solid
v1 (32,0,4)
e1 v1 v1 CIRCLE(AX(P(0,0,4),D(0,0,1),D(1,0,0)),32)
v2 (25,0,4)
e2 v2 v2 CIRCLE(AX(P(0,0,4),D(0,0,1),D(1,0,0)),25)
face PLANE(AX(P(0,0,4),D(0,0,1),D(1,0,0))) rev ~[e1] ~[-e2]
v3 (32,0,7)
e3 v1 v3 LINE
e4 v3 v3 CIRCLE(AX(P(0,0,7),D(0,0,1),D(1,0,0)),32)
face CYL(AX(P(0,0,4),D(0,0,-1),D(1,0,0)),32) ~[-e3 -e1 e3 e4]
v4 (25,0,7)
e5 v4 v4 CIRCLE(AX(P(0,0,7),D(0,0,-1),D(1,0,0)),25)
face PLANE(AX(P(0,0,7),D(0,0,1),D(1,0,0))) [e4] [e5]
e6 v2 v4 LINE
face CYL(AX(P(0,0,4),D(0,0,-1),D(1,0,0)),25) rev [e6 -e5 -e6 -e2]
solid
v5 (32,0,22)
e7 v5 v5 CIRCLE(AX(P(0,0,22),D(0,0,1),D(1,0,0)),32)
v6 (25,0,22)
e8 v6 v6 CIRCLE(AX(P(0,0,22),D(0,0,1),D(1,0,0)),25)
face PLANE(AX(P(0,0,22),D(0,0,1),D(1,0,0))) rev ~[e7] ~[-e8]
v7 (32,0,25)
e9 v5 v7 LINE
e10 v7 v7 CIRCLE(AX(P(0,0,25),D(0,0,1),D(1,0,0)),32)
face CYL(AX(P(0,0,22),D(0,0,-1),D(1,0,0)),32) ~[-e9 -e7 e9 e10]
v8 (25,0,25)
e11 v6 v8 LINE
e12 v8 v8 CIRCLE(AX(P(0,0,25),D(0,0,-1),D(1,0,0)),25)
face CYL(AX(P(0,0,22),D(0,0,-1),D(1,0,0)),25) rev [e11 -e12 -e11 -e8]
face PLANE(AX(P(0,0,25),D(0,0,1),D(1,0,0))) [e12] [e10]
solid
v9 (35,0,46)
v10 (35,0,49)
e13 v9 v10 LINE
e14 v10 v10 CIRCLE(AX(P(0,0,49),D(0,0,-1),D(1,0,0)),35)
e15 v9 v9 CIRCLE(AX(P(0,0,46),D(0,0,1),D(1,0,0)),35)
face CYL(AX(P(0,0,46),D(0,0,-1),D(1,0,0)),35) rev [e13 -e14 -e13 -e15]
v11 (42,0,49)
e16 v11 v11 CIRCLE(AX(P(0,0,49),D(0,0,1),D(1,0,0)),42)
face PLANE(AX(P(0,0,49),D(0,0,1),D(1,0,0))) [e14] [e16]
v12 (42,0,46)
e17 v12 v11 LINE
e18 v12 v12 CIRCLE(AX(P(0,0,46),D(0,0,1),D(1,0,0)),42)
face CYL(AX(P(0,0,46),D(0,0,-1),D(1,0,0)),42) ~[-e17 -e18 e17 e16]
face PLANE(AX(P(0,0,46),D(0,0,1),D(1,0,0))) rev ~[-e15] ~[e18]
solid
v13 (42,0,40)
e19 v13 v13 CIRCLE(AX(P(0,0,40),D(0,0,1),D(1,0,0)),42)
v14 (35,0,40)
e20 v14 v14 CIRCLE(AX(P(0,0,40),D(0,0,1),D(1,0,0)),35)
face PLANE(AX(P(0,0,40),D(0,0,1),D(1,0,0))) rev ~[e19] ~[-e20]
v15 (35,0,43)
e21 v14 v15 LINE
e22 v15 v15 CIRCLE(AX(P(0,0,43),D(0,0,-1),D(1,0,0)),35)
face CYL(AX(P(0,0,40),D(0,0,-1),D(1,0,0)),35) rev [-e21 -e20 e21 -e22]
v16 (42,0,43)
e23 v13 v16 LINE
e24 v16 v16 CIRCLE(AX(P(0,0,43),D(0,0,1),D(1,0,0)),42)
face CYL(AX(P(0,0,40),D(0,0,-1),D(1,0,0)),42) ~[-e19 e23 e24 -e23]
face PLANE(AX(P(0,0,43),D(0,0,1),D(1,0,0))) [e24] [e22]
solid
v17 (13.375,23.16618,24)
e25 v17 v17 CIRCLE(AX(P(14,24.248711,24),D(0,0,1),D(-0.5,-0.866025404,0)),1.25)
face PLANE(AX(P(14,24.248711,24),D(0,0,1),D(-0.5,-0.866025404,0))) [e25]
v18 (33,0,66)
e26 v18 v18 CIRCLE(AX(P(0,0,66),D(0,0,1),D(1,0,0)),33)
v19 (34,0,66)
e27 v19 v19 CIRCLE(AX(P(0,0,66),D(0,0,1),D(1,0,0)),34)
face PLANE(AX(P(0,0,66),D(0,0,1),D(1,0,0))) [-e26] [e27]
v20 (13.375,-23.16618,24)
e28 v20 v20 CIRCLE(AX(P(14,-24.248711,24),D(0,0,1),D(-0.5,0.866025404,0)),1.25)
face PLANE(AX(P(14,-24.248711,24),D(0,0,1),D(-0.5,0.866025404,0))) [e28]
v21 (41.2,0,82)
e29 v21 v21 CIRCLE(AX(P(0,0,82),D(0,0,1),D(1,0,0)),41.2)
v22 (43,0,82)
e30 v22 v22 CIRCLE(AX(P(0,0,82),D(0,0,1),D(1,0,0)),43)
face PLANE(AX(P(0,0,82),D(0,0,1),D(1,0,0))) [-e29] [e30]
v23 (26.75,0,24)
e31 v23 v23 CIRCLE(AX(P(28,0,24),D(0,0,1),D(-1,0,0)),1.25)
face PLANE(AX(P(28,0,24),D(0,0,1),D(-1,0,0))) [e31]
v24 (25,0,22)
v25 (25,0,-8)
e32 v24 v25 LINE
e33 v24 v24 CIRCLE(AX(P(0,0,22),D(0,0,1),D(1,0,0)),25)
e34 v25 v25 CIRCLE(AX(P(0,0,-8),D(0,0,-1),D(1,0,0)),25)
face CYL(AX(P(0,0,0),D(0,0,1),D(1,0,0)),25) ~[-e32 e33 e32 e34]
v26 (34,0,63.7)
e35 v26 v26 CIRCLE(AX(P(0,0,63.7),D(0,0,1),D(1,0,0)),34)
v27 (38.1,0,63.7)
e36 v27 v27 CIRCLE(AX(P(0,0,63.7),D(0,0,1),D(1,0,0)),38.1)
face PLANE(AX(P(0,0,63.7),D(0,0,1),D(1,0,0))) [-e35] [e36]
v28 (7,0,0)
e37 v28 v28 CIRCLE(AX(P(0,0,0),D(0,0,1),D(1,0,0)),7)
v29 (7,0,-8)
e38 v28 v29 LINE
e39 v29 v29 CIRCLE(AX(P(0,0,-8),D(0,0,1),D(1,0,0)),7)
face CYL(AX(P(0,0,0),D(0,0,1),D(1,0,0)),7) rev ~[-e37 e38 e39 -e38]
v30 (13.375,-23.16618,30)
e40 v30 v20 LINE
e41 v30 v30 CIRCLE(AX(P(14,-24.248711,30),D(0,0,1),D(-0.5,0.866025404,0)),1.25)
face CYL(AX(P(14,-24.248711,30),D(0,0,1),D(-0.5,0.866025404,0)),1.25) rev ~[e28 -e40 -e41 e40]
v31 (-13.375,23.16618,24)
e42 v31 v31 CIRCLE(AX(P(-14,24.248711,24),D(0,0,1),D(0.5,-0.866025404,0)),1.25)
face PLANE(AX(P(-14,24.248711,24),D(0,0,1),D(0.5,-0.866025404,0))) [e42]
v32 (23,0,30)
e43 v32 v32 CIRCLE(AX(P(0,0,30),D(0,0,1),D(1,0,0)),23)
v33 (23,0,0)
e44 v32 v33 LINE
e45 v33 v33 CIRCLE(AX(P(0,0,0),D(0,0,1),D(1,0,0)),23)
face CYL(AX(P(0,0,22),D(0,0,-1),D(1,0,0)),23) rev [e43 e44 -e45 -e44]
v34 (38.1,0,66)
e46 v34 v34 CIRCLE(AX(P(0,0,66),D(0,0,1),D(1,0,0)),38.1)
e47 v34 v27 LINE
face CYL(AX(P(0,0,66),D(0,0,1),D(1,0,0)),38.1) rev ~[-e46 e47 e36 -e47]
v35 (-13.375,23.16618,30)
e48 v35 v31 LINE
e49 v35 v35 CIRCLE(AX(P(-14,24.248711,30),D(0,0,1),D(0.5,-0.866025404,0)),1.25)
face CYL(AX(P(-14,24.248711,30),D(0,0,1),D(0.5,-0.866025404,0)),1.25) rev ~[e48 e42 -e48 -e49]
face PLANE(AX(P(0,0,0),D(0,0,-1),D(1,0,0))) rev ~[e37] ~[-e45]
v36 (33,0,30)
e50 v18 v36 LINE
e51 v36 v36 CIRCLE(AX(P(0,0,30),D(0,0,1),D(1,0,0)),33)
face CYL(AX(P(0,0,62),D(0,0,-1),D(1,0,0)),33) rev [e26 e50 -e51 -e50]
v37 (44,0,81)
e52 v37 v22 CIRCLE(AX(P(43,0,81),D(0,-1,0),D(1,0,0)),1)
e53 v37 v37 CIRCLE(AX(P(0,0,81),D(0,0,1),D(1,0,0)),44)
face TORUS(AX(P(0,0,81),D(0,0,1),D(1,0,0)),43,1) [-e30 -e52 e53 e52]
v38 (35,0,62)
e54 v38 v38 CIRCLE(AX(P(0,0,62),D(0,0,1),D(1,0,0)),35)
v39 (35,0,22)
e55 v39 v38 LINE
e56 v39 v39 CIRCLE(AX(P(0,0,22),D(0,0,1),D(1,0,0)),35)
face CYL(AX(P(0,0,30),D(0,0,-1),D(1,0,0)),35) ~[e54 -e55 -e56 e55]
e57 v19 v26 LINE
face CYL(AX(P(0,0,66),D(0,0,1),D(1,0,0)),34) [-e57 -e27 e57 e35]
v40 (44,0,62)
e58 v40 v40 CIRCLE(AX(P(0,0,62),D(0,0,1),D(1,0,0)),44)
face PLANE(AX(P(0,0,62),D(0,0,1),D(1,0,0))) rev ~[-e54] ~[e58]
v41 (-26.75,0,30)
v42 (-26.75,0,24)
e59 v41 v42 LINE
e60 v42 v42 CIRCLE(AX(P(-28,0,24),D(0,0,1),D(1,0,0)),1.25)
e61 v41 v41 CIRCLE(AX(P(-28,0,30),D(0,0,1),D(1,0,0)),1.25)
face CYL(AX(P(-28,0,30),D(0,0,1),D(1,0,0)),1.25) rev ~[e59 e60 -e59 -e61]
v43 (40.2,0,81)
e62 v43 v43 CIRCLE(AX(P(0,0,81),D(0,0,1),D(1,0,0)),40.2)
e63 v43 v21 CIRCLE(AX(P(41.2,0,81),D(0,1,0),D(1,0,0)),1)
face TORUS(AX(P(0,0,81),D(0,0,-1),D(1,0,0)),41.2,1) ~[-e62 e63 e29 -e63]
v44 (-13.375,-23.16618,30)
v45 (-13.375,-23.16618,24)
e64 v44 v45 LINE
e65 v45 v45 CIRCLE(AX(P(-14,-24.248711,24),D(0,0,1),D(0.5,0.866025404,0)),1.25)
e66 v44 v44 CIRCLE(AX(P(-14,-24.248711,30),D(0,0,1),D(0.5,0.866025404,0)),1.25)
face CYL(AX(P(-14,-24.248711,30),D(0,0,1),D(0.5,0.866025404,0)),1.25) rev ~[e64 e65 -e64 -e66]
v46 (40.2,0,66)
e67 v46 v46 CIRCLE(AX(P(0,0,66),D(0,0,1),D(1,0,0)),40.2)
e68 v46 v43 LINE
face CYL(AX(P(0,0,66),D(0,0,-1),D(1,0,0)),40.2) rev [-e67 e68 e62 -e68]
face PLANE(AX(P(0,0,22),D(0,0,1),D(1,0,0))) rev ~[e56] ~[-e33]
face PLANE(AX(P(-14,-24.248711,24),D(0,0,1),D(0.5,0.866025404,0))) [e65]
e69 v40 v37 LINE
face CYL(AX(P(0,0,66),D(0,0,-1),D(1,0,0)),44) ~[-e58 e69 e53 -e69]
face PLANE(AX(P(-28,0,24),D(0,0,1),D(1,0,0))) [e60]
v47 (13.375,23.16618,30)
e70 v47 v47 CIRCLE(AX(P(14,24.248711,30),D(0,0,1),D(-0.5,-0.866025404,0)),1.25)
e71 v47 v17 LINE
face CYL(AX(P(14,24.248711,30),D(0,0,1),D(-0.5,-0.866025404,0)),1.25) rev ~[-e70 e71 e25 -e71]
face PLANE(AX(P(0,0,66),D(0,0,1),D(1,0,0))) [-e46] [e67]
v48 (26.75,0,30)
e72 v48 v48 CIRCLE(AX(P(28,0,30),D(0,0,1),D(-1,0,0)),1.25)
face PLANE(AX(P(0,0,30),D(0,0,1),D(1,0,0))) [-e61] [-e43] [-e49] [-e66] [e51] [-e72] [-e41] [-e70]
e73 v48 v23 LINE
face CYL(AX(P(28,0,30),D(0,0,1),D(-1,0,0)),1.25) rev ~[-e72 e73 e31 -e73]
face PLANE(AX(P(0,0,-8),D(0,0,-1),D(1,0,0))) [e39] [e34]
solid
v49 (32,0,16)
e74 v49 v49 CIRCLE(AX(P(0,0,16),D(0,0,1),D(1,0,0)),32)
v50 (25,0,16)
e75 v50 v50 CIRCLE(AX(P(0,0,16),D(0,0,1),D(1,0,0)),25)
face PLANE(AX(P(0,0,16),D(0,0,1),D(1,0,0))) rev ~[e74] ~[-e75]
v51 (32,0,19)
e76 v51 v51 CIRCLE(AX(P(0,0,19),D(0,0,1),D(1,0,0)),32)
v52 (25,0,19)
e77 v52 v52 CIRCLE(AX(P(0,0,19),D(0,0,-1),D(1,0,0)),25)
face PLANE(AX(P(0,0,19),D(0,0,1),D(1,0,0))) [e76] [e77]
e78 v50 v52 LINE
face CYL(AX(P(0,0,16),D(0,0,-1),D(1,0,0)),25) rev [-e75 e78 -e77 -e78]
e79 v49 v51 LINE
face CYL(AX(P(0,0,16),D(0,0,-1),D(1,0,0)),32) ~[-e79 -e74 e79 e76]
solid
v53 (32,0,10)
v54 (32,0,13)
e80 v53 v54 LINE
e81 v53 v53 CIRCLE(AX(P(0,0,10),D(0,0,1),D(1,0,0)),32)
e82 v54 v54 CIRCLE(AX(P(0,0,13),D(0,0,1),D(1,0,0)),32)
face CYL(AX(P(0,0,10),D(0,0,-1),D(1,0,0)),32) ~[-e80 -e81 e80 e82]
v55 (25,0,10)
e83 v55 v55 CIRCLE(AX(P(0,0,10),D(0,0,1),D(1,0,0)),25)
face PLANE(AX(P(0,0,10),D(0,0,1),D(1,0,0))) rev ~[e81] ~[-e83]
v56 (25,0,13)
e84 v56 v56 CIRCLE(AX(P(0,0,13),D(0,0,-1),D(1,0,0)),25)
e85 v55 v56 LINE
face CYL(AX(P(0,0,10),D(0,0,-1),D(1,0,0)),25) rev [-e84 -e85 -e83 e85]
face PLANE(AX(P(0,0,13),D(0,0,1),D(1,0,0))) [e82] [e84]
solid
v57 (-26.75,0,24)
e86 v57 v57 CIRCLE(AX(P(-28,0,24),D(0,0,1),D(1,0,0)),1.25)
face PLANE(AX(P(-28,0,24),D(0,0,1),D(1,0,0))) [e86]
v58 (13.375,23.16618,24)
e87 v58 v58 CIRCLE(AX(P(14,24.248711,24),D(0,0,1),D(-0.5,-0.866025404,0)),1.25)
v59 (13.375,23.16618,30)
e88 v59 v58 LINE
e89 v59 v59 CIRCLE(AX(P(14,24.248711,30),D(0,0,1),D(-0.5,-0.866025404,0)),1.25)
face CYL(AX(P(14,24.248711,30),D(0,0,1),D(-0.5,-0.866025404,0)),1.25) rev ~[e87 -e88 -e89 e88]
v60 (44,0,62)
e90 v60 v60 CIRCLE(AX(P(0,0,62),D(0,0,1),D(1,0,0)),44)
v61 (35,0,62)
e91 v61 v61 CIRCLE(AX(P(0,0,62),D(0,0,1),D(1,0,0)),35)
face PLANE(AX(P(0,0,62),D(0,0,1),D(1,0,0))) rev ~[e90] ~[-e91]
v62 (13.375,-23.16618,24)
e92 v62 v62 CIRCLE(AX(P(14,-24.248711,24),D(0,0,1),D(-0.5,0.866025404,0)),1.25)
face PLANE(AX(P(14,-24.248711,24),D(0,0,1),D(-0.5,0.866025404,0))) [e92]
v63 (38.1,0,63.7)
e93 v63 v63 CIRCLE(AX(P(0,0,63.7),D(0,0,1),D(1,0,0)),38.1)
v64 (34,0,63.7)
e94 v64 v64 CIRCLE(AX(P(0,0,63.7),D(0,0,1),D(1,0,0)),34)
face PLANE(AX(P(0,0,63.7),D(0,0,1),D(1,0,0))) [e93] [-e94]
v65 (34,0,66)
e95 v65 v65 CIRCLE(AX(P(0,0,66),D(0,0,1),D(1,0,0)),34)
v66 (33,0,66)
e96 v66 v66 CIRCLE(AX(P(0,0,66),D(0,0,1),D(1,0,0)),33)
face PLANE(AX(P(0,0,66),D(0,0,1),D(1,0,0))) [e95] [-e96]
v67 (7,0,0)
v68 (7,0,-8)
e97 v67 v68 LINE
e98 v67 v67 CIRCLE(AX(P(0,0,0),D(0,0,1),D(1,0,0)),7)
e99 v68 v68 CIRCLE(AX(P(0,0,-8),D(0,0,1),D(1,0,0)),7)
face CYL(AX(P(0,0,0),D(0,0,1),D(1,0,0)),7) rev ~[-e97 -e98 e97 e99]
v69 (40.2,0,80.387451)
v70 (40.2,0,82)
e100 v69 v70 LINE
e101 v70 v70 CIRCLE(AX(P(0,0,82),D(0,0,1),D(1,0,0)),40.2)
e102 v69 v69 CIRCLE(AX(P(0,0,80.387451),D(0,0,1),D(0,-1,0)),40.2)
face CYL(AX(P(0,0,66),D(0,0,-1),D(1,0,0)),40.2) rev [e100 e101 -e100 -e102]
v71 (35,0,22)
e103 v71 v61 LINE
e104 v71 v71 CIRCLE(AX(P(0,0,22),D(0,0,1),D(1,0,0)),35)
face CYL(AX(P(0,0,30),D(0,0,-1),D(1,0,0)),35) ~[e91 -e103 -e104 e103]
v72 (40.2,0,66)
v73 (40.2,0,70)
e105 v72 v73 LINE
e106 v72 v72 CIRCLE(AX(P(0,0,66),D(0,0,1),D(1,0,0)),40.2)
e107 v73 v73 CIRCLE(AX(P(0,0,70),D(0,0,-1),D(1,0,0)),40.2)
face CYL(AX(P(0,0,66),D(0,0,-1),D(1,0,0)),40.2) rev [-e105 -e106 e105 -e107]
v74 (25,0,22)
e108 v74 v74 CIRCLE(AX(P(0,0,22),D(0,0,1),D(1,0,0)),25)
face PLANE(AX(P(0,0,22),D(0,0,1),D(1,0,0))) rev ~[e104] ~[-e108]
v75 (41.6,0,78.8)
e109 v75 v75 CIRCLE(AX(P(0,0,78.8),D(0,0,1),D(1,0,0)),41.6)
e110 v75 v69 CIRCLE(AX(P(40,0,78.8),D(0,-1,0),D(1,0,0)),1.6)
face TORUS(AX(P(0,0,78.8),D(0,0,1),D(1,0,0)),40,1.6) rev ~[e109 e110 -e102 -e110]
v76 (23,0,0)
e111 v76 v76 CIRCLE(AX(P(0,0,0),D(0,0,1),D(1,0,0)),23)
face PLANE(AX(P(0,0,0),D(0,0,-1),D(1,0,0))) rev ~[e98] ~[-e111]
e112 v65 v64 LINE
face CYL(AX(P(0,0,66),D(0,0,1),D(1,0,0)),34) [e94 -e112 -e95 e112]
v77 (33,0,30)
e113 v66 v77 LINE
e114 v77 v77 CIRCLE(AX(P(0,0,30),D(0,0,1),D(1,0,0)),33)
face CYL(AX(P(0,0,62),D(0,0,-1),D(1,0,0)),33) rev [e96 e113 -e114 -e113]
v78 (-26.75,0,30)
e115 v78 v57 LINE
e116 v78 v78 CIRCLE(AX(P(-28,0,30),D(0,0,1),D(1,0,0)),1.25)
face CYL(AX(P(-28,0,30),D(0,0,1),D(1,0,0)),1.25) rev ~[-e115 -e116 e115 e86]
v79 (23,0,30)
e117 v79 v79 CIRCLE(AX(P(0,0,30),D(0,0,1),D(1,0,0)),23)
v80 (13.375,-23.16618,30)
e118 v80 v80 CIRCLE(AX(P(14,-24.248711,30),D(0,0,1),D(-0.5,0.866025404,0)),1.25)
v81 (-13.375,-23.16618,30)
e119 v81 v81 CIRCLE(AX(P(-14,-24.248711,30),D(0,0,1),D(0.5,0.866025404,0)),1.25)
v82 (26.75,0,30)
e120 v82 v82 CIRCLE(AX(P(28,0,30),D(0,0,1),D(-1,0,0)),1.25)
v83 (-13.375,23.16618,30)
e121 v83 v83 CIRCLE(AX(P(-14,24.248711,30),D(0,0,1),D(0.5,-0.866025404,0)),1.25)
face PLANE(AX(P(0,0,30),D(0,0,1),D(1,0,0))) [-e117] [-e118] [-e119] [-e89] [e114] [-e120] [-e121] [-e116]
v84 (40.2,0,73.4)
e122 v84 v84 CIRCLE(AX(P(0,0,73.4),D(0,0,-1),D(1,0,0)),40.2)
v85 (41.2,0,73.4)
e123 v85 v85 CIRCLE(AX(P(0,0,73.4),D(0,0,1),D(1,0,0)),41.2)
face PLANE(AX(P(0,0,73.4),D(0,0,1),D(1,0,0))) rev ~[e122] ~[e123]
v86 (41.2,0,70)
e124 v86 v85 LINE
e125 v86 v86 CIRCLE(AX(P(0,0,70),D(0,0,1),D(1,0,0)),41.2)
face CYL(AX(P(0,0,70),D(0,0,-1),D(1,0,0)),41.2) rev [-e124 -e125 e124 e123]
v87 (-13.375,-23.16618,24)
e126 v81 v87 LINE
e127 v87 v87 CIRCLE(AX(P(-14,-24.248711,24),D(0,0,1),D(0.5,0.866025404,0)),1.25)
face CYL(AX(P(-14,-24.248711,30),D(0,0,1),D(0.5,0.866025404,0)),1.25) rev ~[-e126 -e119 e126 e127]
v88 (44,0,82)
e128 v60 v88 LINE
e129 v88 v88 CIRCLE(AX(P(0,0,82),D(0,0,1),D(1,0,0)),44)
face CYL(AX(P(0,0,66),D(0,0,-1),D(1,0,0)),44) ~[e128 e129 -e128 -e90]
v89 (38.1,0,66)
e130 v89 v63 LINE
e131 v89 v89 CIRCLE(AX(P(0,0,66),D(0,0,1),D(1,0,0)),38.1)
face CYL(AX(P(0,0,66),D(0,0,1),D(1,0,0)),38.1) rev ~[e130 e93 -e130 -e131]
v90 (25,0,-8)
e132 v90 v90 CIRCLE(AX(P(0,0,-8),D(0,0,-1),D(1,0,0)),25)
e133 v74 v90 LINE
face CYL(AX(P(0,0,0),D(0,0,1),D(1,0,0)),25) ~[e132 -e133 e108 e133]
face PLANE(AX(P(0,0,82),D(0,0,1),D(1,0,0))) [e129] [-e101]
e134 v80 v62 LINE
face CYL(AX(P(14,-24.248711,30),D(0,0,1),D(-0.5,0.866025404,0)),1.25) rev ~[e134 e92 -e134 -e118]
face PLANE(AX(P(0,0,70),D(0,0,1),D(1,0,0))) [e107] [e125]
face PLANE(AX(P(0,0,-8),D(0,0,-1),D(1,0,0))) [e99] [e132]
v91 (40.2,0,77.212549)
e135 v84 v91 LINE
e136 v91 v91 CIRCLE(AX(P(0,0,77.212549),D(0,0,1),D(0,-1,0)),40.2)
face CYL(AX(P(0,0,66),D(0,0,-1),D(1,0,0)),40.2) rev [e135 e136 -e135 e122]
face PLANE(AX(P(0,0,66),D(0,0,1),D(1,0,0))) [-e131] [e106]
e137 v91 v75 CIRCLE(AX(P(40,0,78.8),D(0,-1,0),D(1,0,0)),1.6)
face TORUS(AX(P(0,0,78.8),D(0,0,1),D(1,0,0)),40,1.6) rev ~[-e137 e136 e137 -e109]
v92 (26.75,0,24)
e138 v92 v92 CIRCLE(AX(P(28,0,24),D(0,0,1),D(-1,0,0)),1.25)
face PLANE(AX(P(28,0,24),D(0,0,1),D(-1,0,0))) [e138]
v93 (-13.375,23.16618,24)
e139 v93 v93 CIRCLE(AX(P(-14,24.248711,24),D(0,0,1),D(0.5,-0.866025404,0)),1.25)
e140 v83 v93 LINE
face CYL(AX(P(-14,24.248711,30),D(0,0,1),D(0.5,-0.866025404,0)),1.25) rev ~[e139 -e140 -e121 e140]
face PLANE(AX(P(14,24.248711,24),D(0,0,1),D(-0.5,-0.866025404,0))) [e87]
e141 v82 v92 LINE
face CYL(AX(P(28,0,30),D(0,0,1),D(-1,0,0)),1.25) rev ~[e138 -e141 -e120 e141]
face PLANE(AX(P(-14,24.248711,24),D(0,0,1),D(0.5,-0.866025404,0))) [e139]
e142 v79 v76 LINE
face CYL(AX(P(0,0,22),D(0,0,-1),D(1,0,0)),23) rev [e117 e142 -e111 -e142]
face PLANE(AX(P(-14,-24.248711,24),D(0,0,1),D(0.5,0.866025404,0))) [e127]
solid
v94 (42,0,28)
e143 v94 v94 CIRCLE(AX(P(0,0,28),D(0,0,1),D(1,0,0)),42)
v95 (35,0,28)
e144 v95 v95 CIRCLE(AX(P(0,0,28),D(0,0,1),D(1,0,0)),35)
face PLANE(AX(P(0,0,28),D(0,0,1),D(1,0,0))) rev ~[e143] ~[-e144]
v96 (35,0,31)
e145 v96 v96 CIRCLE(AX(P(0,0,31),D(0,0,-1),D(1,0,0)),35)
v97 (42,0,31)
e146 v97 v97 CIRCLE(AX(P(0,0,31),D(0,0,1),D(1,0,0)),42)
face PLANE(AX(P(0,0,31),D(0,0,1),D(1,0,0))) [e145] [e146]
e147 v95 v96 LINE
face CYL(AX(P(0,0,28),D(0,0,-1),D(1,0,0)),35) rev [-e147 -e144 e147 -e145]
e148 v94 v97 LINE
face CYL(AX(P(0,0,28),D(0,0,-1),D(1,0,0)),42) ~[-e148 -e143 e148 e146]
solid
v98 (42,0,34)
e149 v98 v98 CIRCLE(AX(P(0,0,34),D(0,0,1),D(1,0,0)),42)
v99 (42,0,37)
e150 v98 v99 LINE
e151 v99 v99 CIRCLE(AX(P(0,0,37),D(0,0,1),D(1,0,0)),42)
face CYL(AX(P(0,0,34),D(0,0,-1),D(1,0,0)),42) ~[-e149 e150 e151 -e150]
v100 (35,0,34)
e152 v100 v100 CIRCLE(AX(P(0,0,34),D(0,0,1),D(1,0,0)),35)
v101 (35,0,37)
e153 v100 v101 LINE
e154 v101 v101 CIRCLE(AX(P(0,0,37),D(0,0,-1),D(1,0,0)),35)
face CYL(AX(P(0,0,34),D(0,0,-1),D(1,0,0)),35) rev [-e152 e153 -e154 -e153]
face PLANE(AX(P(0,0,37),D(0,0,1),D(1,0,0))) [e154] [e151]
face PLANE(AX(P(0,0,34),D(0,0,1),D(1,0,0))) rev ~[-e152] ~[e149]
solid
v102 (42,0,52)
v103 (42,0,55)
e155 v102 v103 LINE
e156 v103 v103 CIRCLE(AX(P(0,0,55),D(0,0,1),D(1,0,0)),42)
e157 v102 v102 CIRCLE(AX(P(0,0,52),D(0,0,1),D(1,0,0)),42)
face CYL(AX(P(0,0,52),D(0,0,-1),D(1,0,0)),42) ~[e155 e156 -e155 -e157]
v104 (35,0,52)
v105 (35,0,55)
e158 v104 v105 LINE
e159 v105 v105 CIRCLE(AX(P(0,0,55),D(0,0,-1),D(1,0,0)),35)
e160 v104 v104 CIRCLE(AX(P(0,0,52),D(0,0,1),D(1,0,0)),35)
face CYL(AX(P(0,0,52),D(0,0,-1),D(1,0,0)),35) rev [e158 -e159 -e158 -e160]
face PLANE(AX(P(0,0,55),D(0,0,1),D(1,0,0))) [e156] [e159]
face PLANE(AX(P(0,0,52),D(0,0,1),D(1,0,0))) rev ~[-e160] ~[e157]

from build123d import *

# Parameters (mm, degrees)
SKETCH_R           = 25
SKETCH_R_2         = 23
PAD_DEPTH          = 22
SKETCH001_R        = 25
PAD001_DEPTH       = 8
SKETCH003_R        = 7
POCKET_DEPTH       = 8
SKETCH004_R        = 35
SKETCH004_R_2      = 23
PAD003_DEPTH       = 8
SKETCH005_R        = 1.25
POCKET001_DEPTH    = 6
POLARPATTERN_COUNT = 6
SKETCH006_R        = 35
SKETCH006_R_2      = 33
PAD004_DEPTH       = 32
SKETCH007_R        = 44
SKETCH007_R_2      = 33
PAD005_DEPTH       = 4
SKETCH008_R        = 38.1
SKETCH008_R_2      = 34
POCKET002_DEPTH    = 2.3
SKETCH009_R        = 44
SKETCH009_R_2      = 40.2
PAD006_DEPTH       = 16
FILLET_R           = 1
CYLINDER010_R      = 35
CYLINDER010_DEPTH  = 5
CYLINDER011_R      = 42
CYLINDER011_DEPTH  = 3
CYLINDER014_R      = 35
CYLINDER014_DEPTH  = 5
CYLINDER015_R      = 42
CYLINDER015_DEPTH  = 3
CYLINDER018_R      = 35
CYLINDER018_DEPTH  = 5
CYLINDER019_R      = 42
CYLINDER019_DEPTH  = 3
CYLINDER022_R      = 35
CYLINDER022_DEPTH  = 5
CYLINDER023_R      = 42
CYLINDER023_DEPTH  = 3
CYLINDER026_R      = 35
CYLINDER026_DEPTH  = 5
CYLINDER027_R      = 42
CYLINDER027_DEPTH  = 3
CYLINDER028_R      = 25
CYLINDER028_DEPTH  = 5
CYLINDER029_R      = 32
CYLINDER029_DEPTH  = 3
CYLINDER_R         = 25
CYLINDER_DEPTH     = 5
CYLINDER032_R      = 32
CYLINDER032_DEPTH  = 3
CYLINDER033_R      = 25
CYLINDER033_DEPTH  = 5
CYLINDER034_R      = 32
CYLINDER034_DEPTH  = 3
CYLINDER035_R      = 25
CYLINDER035_DEPTH  = 5
CYLINDER036_R      = 32
CYLINDER036_DEPTH  = 3
TORUS_R            = 1.6
CYLINDER031_R      = 41.2
CYLINDER031_DEPTH  = 3.4


with BuildPart() as pad_wand_f_r_glas:
    # Sketch → Pad (new body)
    with BuildSketch(Plane.XY):
        Circle(SKETCH_R)
        Circle(SKETCH_R_2, mode=Mode.SUBTRACT)
    extrude(amount=PAD_DEPTH)

    # Sketch001 → Pad001 (new body)
    with BuildSketch(Plane(origin=(0, 0, 0), x_dir=(1, 0, 0), z_dir=(0, 0, -1))):
        Circle(SKETCH001_R)
    extrude(amount=PAD001_DEPTH)

    # Sketch003 → Pocket (cut)
    with BuildSketch(Plane.XY):
        Circle(SKETCH003_R)
    extrude(amount=-POCKET_DEPTH, mode=Mode.SUBTRACT)

    # Sketch004 → Pad003 (new body)
    with BuildSketch(Plane.XY.offset(22)):
        Circle(SKETCH004_R)
        Circle(SKETCH004_R_2, mode=Mode.SUBTRACT)
    extrude(amount=PAD003_DEPTH)

    # Sketch005 → Pocket001 (cut)
    with BuildSketch(Plane.XY.offset(30)):
        with Locations((-28, 0)):
            Circle(SKETCH005_R)
    pocket001 = extrude(amount=-POCKET001_DEPTH, mode=Mode.SUBTRACT)

    # PolarPattern: Pocket001 ×6 about axis
    polarpattern_axis = Axis((0, 0, 30), (0, 0, 1))
    for i in range(1, POLARPATTERN_COUNT):
        add(pocket001.rotate(polarpattern_axis, i * 360 / POLARPATTERN_COUNT), mode=Mode.SUBTRACT)

    # Sketch006 → Pad004 (new body)
    with BuildSketch(Plane.XY.offset(30)):
        Circle(SKETCH006_R)
        Circle(SKETCH006_R_2, mode=Mode.SUBTRACT)
    extrude(amount=PAD004_DEPTH)

    # Sketch007 → Pad005 (new body)
    with BuildSketch(Plane.XY.offset(62)):
        Circle(SKETCH007_R)
        Circle(SKETCH007_R_2, mode=Mode.SUBTRACT)
    extrude(amount=PAD005_DEPTH)

    # Sketch008 → Pocket002 (cut)
    with BuildSketch(Plane.XY.offset(66)):
        Circle(SKETCH008_R)
        Circle(SKETCH008_R_2, mode=Mode.SUBTRACT)
    extrude(amount=-POCKET002_DEPTH, mode=Mode.SUBTRACT)

    # Sketch009 → Pad006 (new body)
    with BuildSketch(Plane.XY.offset(66)):
        Circle(SKETCH009_R)
        Circle(SKETCH009_R_2, mode=Mode.SUBTRACT)
    extrude(amount=PAD006_DEPTH)


with BuildPart() as fillet_body:
    # Fillet base: copy of Pad-Wand für Glas
    add(pad_wand_f_r_glas.part)

    # Fillet
    fillet_edges = [fillet_body.edges().sort_by_distance(p)[0] for p in [
        (-44, 0, 82),
        (-40.2, 0, 82),
    ]]
    fillet(fillet_edges, radius=FILLET_R)


with BuildPart() as ausschnitt_k_hlrippe_elektronik005:
    # Cylinder010 → Cylinder010 (new body)
    with BuildSketch(Plane.XY):
        Circle(CYLINDER010_R)
    extrude(amount=CYLINDER010_DEPTH)


with BuildPart() as cut005:
    # Cylinder011 → Cylinder011 (new body)
    with BuildSketch(Plane.XY):
        Circle(CYLINDER011_R)
    extrude(amount=CYLINDER011_DEPTH)

    # Cut005: cut Ausschnitt Kühlrippe Elektronik005
    add(ausschnitt_k_hlrippe_elektronik005.part, mode=Mode.SUBTRACT)


with BuildPart() as cut005_1:
    # Cut005 placement: moved
    add(cut005.part.moved(Location((0, 0, 28))))


with BuildPart() as ausschnitt_k_hlrippe_elektronik007:
    # Cylinder014 → Cylinder014 (new body)
    with BuildSketch(Plane.XY):
        Circle(CYLINDER014_R)
    extrude(amount=CYLINDER014_DEPTH)


with BuildPart() as cut007:
    # Cylinder015 → Cylinder015 (new body)
    with BuildSketch(Plane.XY):
        Circle(CYLINDER015_R)
    extrude(amount=CYLINDER015_DEPTH)

    # Cut007: cut Ausschnitt Kühlrippe Elektronik007
    add(ausschnitt_k_hlrippe_elektronik007.part, mode=Mode.SUBTRACT)


with BuildPart() as cut007_1:
    # Cut007 placement: moved
    add(cut007.part.moved(Location((0, 0, 34))))


with BuildPart() as ausschnitt_k_hlrippe_elektronik009:
    # Cylinder018 → Cylinder018 (new body)
    with BuildSketch(Plane.XY):
        Circle(CYLINDER018_R)
    extrude(amount=CYLINDER018_DEPTH)


with BuildPart() as cut009:
    # Cylinder019 → Cylinder019 (new body)
    with BuildSketch(Plane.XY):
        Circle(CYLINDER019_R)
    extrude(amount=CYLINDER019_DEPTH)

    # Cut009: cut Ausschnitt Kühlrippe Elektronik009
    add(ausschnitt_k_hlrippe_elektronik009.part, mode=Mode.SUBTRACT)


with BuildPart() as cut009_1:
    # Cut009 placement: moved
    add(cut009.part.moved(Location((0, 0, 40))))


with BuildPart() as ausschnitt_k_hlrippe_elektronik011:
    # Cylinder022 → Cylinder022 (new body)
    with BuildSketch(Plane.XY):
        Circle(CYLINDER022_R)
    extrude(amount=CYLINDER022_DEPTH)


with BuildPart() as cut011:
    # Cylinder023 → Cylinder023 (new body)
    with BuildSketch(Plane.XY):
        Circle(CYLINDER023_R)
    extrude(amount=CYLINDER023_DEPTH)

    # Cut011: cut Ausschnitt Kühlrippe Elektronik011
    add(ausschnitt_k_hlrippe_elektronik011.part, mode=Mode.SUBTRACT)


with BuildPart() as cut011_1:
    # Cut011 placement: moved
    add(cut011.part.moved(Location((0, 0, 46))))


with BuildPart() as ausschnitt_k_hlrippe_elektronik013:
    # Cylinder026 → Cylinder026 (new body)
    with BuildSketch(Plane.XY):
        Circle(CYLINDER026_R)
    extrude(amount=CYLINDER026_DEPTH)


with BuildPart() as cut013:
    # Cylinder027 → Cylinder027 (new body)
    with BuildSketch(Plane.XY):
        Circle(CYLINDER027_R)
    extrude(amount=CYLINDER027_DEPTH)

    # Cut013: cut Ausschnitt Kühlrippe Elektronik013
    add(ausschnitt_k_hlrippe_elektronik013.part, mode=Mode.SUBTRACT)


with BuildPart() as cut013_1:
    # Cut013 placement: moved
    add(cut013.part.moved(Location((0, 0, 52))))


with BuildPart() as ausschnitt_k_hlrippe_elektronik014:
    # Cylinder028 → Cylinder028 (new body)
    with BuildSketch(Plane.XY):
        Circle(CYLINDER028_R)
    extrude(amount=CYLINDER028_DEPTH)


with BuildPart() as cut014:
    # Cylinder029 → Cylinder029 (new body)
    with BuildSketch(Plane.XY):
        Circle(CYLINDER029_R)
    extrude(amount=CYLINDER029_DEPTH)

    # Cut014: cut Ausschnitt Kühlrippe Elektronik014
    add(ausschnitt_k_hlrippe_elektronik014.part, mode=Mode.SUBTRACT)


with BuildPart() as cut014_1:
    # Cut014 placement: moved
    add(cut014.part.moved(Location((0, 0, 22))))


with BuildPart() as ausschnitt_k_hlrippe_elektronik015:
    # Cylinder → Cylinder (new body)
    with BuildSketch(Plane.XY):
        Circle(CYLINDER_R)
    extrude(amount=CYLINDER_DEPTH)


with BuildPart() as cut:
    # Cylinder032 → Cylinder032 (new body)
    with BuildSketch(Plane.XY):
        Circle(CYLINDER032_R)
    extrude(amount=CYLINDER032_DEPTH)

    # Cut: cut Ausschnitt Kühlrippe Elektronik015
    add(ausschnitt_k_hlrippe_elektronik015.part, mode=Mode.SUBTRACT)


with BuildPart() as cut_1:
    # Cut placement: moved
    add(cut.part.moved(Location((0, 0, 16))))


with BuildPart() as ausschnitt_k_hlrippe_elektronik016:
    # Cylinder033 → Cylinder033 (new body)
    with BuildSketch(Plane.XY):
        Circle(CYLINDER033_R)
    extrude(amount=CYLINDER033_DEPTH)


with BuildPart() as cut018:
    # Cylinder034 → Cylinder034 (new body)
    with BuildSketch(Plane.XY):
        Circle(CYLINDER034_R)
    extrude(amount=CYLINDER034_DEPTH)

    # Cut018: cut Ausschnitt Kühlrippe Elektronik016
    add(ausschnitt_k_hlrippe_elektronik016.part, mode=Mode.SUBTRACT)


with BuildPart() as cut018_1:
    # Cut018 placement: moved
    add(cut018.part.moved(Location((0, 0, 10))))


with BuildPart() as ausschnitt_k_hlrippe_elektronik017:
    # Cylinder035 → Cylinder035 (new body)
    with BuildSketch(Plane.XY):
        Circle(CYLINDER035_R)
    extrude(amount=CYLINDER035_DEPTH)


with BuildPart() as cut019:
    # Cylinder036 → Cylinder036 (new body)
    with BuildSketch(Plane.XY):
        Circle(CYLINDER036_R)
    extrude(amount=CYLINDER036_DEPTH)

    # Cut019: cut Ausschnitt Kühlrippe Elektronik017
    add(ausschnitt_k_hlrippe_elektronik017.part, mode=Mode.SUBTRACT)


with BuildPart() as cut019_1:
    # Cut019 placement: moved
    add(cut019.part.moved(Location((0, 0, 4))))


with BuildPart() as sprengringaufnahme:
    # Torus → Torus (revolve)
    with BuildSketch(Plane(origin=(0, 0, 78.8), x_dir=(1, 0, 0), z_dir=(0, -1, 0))):
        with Locations((40, 0)):
            Circle(TORUS_R)
    revolve(axis=Axis((0, 0, 78.8), (0, 0, 1)))


with BuildPart() as nut_f_r_glas_radial:
    # Cylinder031 → Cylinder031 (new body)
    with BuildSketch(Plane.XY.offset(70)):
        Circle(CYLINDER031_R)
    extrude(amount=CYLINDER031_DEPTH)


with BuildPart() as cut021:
    # Cut020 base: copy of Pad-Wand für Glas
    add(pad_wand_f_r_glas.part)

    # Cut020: cut Nut für Glas radial
    add(nut_f_r_glas_radial.part, mode=Mode.SUBTRACT)

    # Cut021: cut Sprengringaufnahme
    add(sprengringaufnahme.part, mode=Mode.SUBTRACT)


solid = Compound([fillet_body.part, cut005_1.part, cut007_1.part, cut009_1.part, cut011_1.part, cut013_1.part, cut014_1.part, cut_1.part, cut018_1.part, cut019_1.part, cut021.part])
